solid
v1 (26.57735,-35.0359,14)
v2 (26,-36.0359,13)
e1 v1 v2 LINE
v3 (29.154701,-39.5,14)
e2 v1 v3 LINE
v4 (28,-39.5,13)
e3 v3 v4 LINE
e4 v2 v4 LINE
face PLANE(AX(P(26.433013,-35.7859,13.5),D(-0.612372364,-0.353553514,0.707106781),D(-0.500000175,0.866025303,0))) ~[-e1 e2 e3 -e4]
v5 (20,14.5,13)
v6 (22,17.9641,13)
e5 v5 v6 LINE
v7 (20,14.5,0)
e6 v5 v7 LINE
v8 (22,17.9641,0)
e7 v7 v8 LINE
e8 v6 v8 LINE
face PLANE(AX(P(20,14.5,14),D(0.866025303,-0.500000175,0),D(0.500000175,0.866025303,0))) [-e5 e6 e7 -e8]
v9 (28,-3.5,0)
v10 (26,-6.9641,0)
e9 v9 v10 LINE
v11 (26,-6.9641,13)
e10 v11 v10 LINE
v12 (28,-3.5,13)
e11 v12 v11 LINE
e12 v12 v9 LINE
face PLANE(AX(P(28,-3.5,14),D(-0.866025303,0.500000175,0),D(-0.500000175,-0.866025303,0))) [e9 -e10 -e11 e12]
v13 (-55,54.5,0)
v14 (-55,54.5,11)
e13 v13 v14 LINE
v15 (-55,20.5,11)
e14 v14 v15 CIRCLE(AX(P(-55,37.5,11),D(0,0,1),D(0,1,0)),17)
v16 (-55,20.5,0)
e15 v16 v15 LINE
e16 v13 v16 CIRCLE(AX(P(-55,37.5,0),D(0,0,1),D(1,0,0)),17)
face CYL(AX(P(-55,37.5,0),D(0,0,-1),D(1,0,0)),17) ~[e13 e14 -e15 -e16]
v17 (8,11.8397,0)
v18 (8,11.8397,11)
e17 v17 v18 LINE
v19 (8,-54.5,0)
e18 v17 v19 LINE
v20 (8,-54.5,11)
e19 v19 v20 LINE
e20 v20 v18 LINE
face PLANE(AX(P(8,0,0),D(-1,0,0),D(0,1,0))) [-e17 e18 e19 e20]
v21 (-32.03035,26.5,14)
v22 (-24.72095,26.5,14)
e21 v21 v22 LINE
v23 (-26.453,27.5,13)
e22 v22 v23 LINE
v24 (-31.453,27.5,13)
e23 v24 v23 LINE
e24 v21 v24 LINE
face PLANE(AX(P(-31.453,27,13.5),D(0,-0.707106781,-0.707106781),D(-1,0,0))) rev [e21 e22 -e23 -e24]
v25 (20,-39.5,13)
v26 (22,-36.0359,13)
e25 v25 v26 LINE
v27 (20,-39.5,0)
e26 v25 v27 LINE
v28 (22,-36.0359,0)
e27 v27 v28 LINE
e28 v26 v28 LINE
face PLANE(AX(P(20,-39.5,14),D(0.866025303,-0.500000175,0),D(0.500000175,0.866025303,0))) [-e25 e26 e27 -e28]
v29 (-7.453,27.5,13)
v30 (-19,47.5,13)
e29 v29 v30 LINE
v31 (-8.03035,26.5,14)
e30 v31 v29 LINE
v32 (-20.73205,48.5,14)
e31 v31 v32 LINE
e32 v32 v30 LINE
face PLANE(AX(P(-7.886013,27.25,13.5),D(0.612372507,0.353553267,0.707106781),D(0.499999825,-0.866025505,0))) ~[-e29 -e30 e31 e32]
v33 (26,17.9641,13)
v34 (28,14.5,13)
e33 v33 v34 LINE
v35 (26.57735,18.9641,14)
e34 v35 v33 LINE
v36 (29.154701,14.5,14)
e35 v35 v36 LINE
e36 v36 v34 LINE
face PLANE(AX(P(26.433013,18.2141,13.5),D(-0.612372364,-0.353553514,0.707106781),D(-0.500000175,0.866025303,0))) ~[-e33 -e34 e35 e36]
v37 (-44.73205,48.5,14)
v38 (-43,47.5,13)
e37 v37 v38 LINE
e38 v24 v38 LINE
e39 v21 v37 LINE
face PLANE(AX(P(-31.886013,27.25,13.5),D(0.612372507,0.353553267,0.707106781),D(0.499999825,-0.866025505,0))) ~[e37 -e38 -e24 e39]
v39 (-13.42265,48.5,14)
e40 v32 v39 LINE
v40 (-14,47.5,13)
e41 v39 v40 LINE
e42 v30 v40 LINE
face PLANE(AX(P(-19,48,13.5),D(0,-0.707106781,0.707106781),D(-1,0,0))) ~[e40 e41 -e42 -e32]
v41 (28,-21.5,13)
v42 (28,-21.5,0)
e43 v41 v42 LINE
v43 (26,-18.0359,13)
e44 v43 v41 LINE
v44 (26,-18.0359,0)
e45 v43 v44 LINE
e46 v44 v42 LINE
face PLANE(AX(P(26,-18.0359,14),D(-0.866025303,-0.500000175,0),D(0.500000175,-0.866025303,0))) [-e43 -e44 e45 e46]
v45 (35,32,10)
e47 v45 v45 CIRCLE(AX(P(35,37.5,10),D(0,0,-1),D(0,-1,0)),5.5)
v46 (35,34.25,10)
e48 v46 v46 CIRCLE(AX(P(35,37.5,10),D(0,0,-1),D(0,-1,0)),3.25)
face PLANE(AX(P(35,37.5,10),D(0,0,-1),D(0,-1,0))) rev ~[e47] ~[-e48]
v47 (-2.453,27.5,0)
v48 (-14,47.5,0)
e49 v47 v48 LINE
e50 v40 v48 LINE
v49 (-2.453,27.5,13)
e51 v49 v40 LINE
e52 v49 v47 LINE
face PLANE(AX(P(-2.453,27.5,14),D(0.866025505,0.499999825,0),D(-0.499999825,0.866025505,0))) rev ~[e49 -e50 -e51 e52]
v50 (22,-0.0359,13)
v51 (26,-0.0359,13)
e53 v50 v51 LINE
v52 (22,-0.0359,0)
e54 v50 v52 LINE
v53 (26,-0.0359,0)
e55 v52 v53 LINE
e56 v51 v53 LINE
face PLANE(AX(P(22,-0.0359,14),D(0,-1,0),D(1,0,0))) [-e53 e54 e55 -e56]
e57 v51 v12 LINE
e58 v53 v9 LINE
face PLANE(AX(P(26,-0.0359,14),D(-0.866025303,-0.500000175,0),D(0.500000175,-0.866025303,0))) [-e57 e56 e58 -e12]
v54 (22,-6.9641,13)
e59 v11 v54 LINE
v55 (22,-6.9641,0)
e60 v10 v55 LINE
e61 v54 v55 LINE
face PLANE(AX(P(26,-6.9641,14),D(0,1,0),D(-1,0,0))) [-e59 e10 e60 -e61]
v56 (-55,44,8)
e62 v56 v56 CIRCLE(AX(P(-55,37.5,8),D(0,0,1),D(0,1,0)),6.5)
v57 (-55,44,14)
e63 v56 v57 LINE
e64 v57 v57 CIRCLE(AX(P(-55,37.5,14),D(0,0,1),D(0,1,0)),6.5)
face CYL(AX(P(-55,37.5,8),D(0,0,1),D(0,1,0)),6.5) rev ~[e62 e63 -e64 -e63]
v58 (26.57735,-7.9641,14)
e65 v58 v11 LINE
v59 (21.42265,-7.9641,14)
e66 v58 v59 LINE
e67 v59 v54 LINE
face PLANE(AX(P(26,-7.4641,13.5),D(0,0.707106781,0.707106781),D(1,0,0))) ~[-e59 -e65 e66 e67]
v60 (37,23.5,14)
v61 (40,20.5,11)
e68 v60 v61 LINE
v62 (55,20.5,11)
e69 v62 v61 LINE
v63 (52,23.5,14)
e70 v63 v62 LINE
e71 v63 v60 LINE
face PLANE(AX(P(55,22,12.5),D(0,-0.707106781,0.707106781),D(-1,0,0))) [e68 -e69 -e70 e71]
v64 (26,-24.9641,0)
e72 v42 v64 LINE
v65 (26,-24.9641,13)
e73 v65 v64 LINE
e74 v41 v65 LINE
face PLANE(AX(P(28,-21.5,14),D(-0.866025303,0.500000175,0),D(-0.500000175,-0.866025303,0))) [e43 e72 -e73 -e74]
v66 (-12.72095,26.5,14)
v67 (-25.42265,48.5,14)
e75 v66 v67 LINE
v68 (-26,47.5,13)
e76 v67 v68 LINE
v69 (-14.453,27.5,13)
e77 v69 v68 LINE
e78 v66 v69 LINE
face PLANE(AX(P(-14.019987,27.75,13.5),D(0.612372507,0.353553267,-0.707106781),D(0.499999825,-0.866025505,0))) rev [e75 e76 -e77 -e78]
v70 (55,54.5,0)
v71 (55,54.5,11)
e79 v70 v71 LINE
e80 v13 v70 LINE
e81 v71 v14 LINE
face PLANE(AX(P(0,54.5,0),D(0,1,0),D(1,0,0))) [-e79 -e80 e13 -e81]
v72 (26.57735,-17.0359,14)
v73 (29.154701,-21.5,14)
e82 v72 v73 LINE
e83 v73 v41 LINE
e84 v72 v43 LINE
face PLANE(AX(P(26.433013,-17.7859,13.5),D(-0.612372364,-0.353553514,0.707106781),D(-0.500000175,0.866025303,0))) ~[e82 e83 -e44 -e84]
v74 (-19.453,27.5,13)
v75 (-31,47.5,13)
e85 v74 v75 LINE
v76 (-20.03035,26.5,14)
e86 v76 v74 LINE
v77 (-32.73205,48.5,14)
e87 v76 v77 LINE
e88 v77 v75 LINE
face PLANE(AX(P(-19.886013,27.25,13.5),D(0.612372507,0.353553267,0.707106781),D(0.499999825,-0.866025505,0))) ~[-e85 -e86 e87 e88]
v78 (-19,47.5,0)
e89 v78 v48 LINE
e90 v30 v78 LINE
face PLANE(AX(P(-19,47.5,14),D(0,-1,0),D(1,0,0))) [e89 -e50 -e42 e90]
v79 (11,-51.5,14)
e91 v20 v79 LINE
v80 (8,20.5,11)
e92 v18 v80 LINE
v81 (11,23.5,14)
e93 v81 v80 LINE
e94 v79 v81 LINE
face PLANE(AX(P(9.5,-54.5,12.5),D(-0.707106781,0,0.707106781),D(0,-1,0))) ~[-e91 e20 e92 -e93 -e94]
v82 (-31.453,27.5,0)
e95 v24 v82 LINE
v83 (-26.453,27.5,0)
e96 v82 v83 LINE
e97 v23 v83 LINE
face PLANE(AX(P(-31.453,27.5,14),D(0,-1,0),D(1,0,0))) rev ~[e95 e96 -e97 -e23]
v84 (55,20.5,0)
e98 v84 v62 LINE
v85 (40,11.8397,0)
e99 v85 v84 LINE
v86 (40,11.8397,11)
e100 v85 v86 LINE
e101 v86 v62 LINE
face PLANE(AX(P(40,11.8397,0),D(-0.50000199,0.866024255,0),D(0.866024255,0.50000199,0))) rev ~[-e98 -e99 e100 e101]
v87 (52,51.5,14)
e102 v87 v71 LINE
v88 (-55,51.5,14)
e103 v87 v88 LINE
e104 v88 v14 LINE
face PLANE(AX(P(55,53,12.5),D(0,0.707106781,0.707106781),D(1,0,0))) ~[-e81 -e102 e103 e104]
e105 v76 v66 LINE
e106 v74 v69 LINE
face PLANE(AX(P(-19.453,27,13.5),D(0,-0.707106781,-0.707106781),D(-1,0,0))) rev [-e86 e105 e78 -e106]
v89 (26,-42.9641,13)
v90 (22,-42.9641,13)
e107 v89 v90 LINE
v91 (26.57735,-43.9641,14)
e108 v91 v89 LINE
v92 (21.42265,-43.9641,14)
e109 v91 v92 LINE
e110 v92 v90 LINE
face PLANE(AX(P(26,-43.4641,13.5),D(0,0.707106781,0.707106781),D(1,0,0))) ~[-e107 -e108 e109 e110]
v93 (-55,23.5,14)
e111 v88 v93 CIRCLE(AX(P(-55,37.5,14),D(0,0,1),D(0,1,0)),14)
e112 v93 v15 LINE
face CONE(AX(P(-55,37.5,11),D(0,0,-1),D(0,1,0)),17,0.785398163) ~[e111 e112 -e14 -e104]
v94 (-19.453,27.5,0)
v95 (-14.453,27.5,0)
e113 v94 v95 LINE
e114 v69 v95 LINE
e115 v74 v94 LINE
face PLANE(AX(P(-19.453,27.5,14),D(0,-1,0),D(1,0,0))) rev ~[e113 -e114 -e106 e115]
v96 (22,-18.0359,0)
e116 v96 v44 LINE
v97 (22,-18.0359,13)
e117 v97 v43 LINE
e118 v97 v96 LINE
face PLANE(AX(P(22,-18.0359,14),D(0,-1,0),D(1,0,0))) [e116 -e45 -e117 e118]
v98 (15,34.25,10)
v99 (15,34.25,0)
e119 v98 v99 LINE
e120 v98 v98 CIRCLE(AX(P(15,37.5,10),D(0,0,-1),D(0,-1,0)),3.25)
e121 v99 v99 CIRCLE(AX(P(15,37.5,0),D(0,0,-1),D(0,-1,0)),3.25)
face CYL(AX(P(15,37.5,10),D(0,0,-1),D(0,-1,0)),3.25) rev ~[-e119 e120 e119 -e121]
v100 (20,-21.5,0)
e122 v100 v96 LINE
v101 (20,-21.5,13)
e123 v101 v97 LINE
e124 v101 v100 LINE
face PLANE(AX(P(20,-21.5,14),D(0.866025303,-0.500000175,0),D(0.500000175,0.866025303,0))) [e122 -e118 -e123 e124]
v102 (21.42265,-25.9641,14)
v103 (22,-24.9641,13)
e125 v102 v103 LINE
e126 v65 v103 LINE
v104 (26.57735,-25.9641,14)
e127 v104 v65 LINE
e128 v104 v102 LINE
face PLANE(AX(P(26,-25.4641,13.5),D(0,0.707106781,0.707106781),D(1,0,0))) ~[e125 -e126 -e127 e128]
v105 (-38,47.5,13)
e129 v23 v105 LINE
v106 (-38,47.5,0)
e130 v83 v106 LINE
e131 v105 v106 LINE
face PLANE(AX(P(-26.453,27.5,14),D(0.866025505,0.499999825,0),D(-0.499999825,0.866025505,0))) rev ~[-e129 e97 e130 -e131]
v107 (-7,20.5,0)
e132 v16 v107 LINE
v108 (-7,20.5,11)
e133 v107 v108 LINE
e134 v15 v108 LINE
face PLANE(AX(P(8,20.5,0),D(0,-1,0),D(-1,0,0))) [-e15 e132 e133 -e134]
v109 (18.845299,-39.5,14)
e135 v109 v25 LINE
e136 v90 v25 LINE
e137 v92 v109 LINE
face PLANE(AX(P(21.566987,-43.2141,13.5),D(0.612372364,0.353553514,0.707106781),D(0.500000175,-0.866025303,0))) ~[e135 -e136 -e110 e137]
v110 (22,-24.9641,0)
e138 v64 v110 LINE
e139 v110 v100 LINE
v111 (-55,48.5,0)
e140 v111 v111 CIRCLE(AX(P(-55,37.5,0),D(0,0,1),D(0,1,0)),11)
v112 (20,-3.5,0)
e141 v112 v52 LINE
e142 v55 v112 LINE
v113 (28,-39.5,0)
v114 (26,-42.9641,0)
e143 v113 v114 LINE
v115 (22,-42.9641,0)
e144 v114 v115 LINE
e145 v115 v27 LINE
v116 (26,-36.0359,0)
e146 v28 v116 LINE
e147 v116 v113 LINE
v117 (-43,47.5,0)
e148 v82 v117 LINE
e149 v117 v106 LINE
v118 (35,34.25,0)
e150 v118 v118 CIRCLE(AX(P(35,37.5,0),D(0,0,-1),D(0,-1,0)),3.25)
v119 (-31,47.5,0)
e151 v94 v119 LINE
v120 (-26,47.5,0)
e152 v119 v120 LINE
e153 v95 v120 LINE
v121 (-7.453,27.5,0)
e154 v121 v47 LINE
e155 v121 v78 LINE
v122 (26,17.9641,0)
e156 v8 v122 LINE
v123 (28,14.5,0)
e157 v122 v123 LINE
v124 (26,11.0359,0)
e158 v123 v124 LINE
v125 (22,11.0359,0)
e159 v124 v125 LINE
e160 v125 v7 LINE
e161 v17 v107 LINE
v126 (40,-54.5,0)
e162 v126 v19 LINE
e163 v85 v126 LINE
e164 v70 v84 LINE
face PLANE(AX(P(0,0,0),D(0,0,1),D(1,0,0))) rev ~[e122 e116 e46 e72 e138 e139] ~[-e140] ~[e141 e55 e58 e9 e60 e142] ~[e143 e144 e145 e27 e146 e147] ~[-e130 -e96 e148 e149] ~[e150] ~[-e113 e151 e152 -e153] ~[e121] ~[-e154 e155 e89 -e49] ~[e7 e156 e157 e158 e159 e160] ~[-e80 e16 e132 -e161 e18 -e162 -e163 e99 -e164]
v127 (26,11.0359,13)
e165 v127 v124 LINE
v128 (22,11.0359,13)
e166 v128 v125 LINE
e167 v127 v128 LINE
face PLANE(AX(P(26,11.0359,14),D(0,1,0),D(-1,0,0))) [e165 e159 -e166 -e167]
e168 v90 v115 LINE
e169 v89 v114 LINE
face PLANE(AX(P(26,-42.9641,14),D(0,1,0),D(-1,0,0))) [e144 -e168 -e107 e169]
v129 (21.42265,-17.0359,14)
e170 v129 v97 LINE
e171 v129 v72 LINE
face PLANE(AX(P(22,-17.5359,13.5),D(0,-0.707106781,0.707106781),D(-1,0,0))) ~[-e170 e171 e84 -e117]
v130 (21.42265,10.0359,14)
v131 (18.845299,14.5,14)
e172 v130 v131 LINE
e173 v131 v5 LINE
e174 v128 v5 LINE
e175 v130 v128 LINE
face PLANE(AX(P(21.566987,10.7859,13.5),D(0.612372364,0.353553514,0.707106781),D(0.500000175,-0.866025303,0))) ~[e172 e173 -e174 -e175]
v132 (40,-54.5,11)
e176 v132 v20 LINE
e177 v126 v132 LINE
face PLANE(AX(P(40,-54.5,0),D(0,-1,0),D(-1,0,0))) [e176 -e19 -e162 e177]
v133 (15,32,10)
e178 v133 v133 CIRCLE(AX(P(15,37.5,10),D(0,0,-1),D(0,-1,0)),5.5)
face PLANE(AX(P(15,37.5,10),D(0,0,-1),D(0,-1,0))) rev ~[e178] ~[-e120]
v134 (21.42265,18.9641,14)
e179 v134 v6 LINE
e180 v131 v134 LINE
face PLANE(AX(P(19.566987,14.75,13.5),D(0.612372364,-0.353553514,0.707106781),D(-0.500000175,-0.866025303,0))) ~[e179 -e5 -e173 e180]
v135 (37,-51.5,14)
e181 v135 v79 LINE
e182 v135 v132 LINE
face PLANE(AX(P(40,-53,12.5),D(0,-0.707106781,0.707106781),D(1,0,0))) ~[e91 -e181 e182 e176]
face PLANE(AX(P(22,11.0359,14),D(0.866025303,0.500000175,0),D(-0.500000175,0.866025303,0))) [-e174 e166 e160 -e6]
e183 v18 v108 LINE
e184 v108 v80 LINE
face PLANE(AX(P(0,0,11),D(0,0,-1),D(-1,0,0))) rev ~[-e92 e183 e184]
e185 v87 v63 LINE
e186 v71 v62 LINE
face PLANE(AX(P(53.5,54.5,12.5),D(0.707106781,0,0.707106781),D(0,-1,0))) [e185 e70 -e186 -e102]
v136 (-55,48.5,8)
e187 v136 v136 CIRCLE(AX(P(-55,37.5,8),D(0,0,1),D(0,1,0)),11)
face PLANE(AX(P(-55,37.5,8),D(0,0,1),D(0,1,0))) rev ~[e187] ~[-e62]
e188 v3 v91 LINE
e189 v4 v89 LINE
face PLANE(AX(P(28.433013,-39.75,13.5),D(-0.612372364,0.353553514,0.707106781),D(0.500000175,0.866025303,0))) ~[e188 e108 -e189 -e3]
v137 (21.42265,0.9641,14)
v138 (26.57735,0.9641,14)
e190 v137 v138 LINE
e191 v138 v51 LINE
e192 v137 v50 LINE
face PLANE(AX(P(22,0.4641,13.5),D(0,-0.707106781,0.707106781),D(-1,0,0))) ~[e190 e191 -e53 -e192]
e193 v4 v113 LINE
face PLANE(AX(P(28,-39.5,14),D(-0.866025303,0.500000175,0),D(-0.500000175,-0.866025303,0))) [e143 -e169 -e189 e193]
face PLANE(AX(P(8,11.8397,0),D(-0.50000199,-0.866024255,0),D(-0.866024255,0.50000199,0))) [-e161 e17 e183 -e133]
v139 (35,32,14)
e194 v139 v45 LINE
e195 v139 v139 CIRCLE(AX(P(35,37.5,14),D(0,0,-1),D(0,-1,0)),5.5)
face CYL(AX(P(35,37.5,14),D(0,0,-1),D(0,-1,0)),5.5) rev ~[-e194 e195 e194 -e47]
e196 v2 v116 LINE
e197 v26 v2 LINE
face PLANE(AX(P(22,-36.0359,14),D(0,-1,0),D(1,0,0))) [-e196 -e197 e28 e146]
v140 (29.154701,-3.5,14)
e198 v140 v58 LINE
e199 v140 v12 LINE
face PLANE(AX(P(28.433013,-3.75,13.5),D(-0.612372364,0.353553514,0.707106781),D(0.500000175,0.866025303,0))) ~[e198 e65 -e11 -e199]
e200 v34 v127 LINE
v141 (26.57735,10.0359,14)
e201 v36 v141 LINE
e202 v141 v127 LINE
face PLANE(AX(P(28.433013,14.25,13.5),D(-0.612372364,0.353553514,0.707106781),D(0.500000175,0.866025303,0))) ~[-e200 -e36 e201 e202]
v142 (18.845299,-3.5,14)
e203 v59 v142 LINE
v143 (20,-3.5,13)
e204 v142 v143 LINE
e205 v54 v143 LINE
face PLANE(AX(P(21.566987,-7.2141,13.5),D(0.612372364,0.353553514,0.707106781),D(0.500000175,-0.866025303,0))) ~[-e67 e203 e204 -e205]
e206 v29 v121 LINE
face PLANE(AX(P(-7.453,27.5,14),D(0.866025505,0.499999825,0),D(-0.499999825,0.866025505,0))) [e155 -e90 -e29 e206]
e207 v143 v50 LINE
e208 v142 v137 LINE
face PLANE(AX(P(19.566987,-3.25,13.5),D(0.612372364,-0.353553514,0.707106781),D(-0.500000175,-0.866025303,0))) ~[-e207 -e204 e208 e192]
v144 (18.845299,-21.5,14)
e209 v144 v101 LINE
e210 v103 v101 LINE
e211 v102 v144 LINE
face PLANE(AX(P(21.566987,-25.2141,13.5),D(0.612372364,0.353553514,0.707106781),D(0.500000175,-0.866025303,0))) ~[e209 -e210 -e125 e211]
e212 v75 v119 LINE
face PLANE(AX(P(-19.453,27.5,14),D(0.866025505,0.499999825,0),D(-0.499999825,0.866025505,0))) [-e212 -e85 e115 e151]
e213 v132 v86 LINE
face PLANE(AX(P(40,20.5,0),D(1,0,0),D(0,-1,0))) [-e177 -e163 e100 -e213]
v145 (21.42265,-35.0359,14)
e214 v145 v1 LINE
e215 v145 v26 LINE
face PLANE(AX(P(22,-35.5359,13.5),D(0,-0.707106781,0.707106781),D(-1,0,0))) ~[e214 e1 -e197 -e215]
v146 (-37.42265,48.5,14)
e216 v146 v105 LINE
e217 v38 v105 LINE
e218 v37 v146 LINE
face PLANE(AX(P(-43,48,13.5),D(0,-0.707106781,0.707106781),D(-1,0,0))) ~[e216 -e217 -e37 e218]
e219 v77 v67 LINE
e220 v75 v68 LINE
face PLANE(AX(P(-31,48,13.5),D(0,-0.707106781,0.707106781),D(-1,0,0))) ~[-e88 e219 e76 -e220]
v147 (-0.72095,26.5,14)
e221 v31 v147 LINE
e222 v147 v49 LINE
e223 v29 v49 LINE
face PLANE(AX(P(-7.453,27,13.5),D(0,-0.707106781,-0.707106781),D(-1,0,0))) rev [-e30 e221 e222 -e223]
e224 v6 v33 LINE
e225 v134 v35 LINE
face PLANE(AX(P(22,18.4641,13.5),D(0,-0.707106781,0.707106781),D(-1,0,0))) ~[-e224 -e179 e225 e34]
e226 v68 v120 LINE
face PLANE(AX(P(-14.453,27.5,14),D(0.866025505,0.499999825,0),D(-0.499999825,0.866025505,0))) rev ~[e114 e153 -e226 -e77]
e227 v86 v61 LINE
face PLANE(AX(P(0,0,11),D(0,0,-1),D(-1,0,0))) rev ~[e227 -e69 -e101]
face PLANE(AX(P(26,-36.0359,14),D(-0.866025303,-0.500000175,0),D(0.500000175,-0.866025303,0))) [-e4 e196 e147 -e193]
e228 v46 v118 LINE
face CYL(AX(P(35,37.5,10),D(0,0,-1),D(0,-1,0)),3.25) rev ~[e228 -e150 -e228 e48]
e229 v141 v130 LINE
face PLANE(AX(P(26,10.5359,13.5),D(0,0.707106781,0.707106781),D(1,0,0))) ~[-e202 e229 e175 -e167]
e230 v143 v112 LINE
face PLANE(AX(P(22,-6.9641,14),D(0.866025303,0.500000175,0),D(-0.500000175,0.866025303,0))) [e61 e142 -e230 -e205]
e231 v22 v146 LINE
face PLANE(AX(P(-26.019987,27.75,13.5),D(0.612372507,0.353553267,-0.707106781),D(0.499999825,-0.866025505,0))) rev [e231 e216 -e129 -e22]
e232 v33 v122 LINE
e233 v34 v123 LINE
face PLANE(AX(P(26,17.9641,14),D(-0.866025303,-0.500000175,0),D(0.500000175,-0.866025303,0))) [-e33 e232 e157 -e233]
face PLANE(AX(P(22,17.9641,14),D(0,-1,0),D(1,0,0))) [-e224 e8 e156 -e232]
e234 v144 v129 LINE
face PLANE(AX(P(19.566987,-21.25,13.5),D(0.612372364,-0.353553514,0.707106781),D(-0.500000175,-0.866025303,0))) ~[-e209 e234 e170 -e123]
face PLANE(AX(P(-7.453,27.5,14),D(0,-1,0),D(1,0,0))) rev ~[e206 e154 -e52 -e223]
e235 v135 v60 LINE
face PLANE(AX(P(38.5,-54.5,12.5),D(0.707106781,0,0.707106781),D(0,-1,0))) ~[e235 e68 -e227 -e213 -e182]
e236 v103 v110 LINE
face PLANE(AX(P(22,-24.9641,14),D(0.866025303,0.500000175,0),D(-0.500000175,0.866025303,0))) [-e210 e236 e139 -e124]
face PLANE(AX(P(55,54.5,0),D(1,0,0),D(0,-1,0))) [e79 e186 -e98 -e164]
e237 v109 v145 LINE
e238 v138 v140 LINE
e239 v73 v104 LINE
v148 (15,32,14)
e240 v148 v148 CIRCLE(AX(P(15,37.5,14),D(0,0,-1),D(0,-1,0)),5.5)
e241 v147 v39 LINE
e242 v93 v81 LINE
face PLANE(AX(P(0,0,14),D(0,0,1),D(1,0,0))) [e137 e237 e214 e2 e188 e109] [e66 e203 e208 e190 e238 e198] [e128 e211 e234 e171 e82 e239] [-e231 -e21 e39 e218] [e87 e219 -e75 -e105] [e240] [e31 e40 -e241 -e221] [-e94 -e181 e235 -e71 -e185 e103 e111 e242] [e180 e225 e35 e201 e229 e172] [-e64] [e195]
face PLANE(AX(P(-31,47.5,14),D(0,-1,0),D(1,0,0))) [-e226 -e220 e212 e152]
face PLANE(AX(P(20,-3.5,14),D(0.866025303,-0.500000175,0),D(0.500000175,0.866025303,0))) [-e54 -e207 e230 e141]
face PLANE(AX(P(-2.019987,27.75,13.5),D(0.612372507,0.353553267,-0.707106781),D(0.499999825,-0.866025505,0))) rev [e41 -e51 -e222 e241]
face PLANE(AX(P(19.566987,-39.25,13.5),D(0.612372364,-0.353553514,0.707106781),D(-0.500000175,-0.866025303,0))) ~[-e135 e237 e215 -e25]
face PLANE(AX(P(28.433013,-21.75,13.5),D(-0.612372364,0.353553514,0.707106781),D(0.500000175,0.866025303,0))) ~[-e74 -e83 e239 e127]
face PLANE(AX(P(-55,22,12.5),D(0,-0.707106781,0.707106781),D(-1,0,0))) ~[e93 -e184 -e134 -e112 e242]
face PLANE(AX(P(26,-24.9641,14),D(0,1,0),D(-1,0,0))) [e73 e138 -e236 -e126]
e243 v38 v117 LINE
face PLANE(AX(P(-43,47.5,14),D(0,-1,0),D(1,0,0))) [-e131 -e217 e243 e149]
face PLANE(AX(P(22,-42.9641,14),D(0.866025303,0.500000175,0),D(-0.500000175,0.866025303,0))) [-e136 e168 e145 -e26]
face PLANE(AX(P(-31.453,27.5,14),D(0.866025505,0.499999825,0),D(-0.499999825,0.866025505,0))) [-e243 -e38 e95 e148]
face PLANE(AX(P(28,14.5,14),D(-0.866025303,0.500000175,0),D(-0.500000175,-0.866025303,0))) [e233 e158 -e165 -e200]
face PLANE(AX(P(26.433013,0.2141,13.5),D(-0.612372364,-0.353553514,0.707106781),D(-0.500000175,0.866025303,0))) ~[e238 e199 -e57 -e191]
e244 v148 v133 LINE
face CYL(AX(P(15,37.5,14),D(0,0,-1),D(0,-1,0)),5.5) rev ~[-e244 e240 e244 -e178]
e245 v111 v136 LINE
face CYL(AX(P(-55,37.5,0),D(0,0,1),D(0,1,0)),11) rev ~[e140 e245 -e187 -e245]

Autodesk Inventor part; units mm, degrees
ref_plane "YZ Plane" through (0, 0, 0) normal (1, 0, 0) x (0, 1, 0)
ref_plane "XZ Plane" through (0, 0, 0) normal (0, 1, 0) x (-1, 0, 0)
sketch "Náčrt1" plane through (0, 0, 0) normal (0, 0, 1) x (1, 0, 0)
  line L0 (-97.4, 0) -> (80.4, 0) projected
  line L1 (0, -76.3) -> (0, 76.3) projected
  line L2 (-55, 54.5) -> (55, 54.5)
  line L3 (55, 54.5) -> (55, 20.5)
  line L4 (55, 20.5) -> (-55, 20.5)
  line L5 (-55, 20.5) -> (-55, 54.5)
  line L6 (40, -54.5) -> (8, -54.5)
  line L7 (8, -54.5) -> (8, 20.5)
  line L8 (8, 20.5) -> (40, 20.5)
  line L9 (40, 20.5) -> (40, -54.5)
  circle A0 centre (-55, 37.5) radius 17
  point P0 (0, 0)
  point P1 (-55, 20.5)
  point P2 (40, 20.5)
  dimension "d0" = 34
  dimension "d1" = 110
  dimension "d2" = 32
  dimension "d3" = 15
  dimension "d4" = 75
extrude "Vysunutí1" add sketch "Náčrt1" along normal blind 14 contours L7 L4 L9 L0 | L0 L9 L6 L7 | L4 A0 L2 L1 | L1 L2 L3 L4 | A0 L5 | L5 A0
sketch "Náčrt2" plane through (0, 0, 0) normal (0, 0, -1) x (-1, 0, 0)
  line L0 (-55, 54.5) -> (55, 54.5) projected
  line L1 (-55, 54.5) -> (55, 54.5) projected
  line L2 (-55, 20.5) -> (-55, 54.5) projected
  line L3 (-40, 20.5) -> (-55, 20.5) projected
  line L4 (-40, -54.5) -> (-40, 20.5) projected
  line L5 (-8, -54.5) -> (-40, -54.5) projected
  line L6 (-8, 20.5) -> (-8, -54.5) projected
  line L7 (55, 20.5) -> (-8, 20.5) projected
  arc A0 (55, 20.5) -> (55, 54.5) centre (55, 37.5) ccw projected
  point P0 (0, 0)
hole "Díra1" at (-55, 37.5, 0) direction (0, 0, 1) diameter 13 end through all counterbore diameter 22 counterbore depth 8
chamfer "Zkosení1" distance 3 angle 45 8 edges at (0, 54.5, 14) (-72, 37.5, 14) (-23.5, 20.5, 14) (8, -17, 14) (40, -17, 14) (47.5, 20.5, 14) (55, 37.5, 14) (24, -54.5, 14)
sketch "Náčrt3" plane through (0, 0, 14) normal (0, 0, 1) x (1, 0, 0)
  circle A0 centre (-55, 37.5) radius 6.5 projected
  line L0 (-55, 51.5) -> (52, 51.5) projected
  arc A1 (-55, 51.5) -> (-55, 23.5) centre (-55, 37.5) ccw projected
  line L1 (11, 23.5) -> (-55, 23.5) projected
  line L2 (11, -51.5) -> (11, 23.5) projected
  line L3 (37, -51.5) -> (11, -51.5) projected
  line L4 (37, 23.5) -> (37, -51.5) projected
  line L5 (52, 23.5) -> (37, 23.5) projected
  line L6 (52, 51.5) -> (52, 23.5) projected
  line L7 (0, 76.3) -> (0, -76.3) projected
  line L8 (-97.4, 0) -> (80.4, 0) projected
  point P0 (0, 0)
  point P1 (35, 37.5)
  dimension "d17" = 14
  dimension "d18" = 17
hole "Díra2" at (35, 37.5, 14) direction (0, 0, -1) diameter 6.5 end through all counterbore diameter 11 counterbore depth 4 clearance for "Strojní šroub se zápustnou hlavou" size "M6" standard "Ansi M metrický profil"
pattern_linear "Obdélníkové pole1" count 2 spacing 20 along (-1, 0, 0) of "Díra2"
sketch "Náčrt4" plane through (0, 0, 14) normal (0, 0, 1) x (1, 0, 0)
  line L0 (-97.4, 0) -> (80.4, 0) projected
  line L1 (0, -76.3) -> (0, 76.3) projected
  circle A0 centre (15, 37.5) radius 5.5 projected
  circle A1 centre (35, 37.5) radius 5.5 projected
  circle A2 centre (-55, 37.5) radius 6.5 projected
  line L2 (-55, 51.5) -> (52, 51.5) projected
  arc A3 (-55, 51.5) -> (-55, 23.5) centre (-55, 37.5) ccw projected
  line L3 (11, 23.5) -> (-55, 23.5) projected
  line L4 (11, -51.5) -> (11, 23.5) projected
  line L5 (37, -51.5) -> (11, -51.5) projected
  line L6 (37, 23.5) -> (37, -51.5) projected
  line L7 (52, 23.5) -> (37, 23.5) projected
  line L8 (52, 51.5) -> (52, 23.5) projected
  line L9 (-31.453, 27.5) -> (-26.453, 27.5)
  line L10 (-26.453, 27.5) -> (-38, 47.5)
  line L11 (-26.453, 27.5) -> (-3.359, 27.5) construction
  line L12 (-31.453, 27.5) -> (-43, 47.5)
  line L13 (-43, 47.5) -> (-38, 47.5)
  point P0 (0, 0)
  dimension "d29" = 120
  dimension "d31" = 5
  dimension "d32" = 4
  dimension "d33" = 4
  dimension "d34" = 12
extrude "Vysunutí2" cut sketch "Náčrt4" against normal through all contours L12 L13 L10 L9
chamfer "Zkosení2" distance 1 angle 45 4 edges at (-37.2265, 37.5, 14) (-40.5, 47.5, 14) (-32.2265, 37.5, 14) (-28.953, 27.5, 14)
pattern_linear "Obdélníkové pole2" count 3 spacing 12 along (1, 0, 0) of "Vysunutí2", "Zkosení2"
sketch "Náčrt5" plane through (0, 0, 14) normal (0, 0, 1) x (1, 0, 0)
  line L0 (-32.7321, 48.5) -> (-20.0303, 26.5) projected
  line L1 (-25.4226, 48.5) -> (-32.7321, 48.5) projected
  line L2 (-12.7209, 26.5) -> (-25.4226, 48.5) projected
  line L3 (-20.0303, 26.5) -> (-12.7209, 26.5) projected
  line L4 (-55, 51.5) -> (52, 51.5) projected
  arc A0 (-55, 51.5) -> (-55, 23.5) centre (-55, 37.5) ccw projected
  line L5 (11, 23.5) -> (-55, 23.5) projected
  line L6 (11, -51.5) -> (11, 23.5) projected
  line L7 (37, -51.5) -> (11, -51.5) projected
  line L8 (37, 23.5) -> (37, -51.5) projected
  line L9 (52, 23.5) -> (37, 23.5) projected
  line L10 (52, 51.5) -> (52, 23.5) projected
  circle A1 centre (-55, 37.5) radius 6.5 projected
  circle A2 centre (35, 37.5) radius 5.5 projected
  circle A3 centre (15, 37.5) radius 5.5 projected
  line L11 (-24.7209, 26.5) -> (-37.4226, 48.5) projected
  line L12 (-32.0303, 26.5) -> (-24.7209, 26.5) projected
  line L13 (-44.7321, 48.5) -> (-32.0303, 26.5) projected
  line L14 (-37.4226, 48.5) -> (-44.7321, 48.5) projected
  line L15 (-20.7321, 48.5) -> (-8.0303, 26.5) projected
  line L16 (-13.4226, 48.5) -> (-20.7321, 48.5) projected
  line L17 (-0.7209, 26.5) -> (-13.4226, 48.5) projected
  line L18 (-8.0303, 26.5) -> (-0.7209, 26.5) projected
  line L19 (0, -76.3) -> (0, 76.3) projected
  line L20 (26, 17.9641) -> (28, 14.5)
  line L21 (28, 14.5) -> (26, 11.0359)
  line L22 (26, 11.0359) -> (22, 11.0359)
  line L23 (22, 11.0359) -> (20, 14.5)
  line L24 (20, 14.5) -> (22, 17.9641)
  line L25 (22, 17.9641) -> (26, 17.9641)
  point P0 (0, 0)
  point P1 (24, 14.5)
  dimension "d43" = 4
  dimension "d44" = 9
  dimension "d45" = 13
  dimension "d52" = 3.4641
extrude "Vysunutí3" cut sketch "Náčrt5" against normal through all contours L20 L21 L22 L23 L24 L25
chamfer "Zkosení3" distance 1 angle 45 6 edges at (24, 17.9641, 14) (27, 16.2321, 14) (27, 12.7679, 14) (24, 11.0359, 14) (21, 12.7679, 14) (21, 16.2321, 14)
pattern_linear "Obdélníkové pole3" count 4 spacing 18 along (0, -1, 0) of "Vysunutí3", "Zkosení3"
ref_plane "Pracovní rovina1" through (0, 0, 0) normal (0, 0, -1) x (-1, 0, 0)
sketch "Náčrt7" plane through (0, 0, 0) normal (0, 0, -1) x (-1, 0, 0)
  line L0 (-28, -39.5) -> (-26, -36.0359) projected
  line L1 (-26, -36.0359) -> (-22, -36.0359) projected
  line L2 (-22, -36.0359) -> (-20, -39.5) projected
  line L3 (-20, -39.5) -> (-22, -42.9641) projected
  line L4 (-22, -42.9641) -> (-26, -42.9641) projected
  line L5 (-26, -42.9641) -> (-28, -39.5) projected
  line L6 (-28, -21.5) -> (-26, -18.0359) projected
  line L7 (-26, -18.0359) -> (-22, -18.0359) projected
  line L8 (-22, -18.0359) -> (-20, -21.5) projected
  line L9 (-20, -21.5) -> (-22, -24.9641) projected
  line L10 (-22, -24.9641) -> (-26, -24.9641) projected
  line L11 (-26, -24.9641) -> (-28, -21.5) projected
  line L12 (-28, -3.5) -> (-26, -0.0359) projected
  line L13 (-26, -0.0359) -> (-22, -0.0359) projected
  line L14 (-22, -0.0359) -> (-20, -3.5) projected
  line L15 (-20, -3.5) -> (-22, -6.9641) projected
  line L16 (-22, -6.9641) -> (-26, -6.9641) projected
  line L17 (-26, -6.9641) -> (-28, -3.5) projected
  line L18 (-20, 14.5) -> (-22, 11.0359) projected
  line L19 (-22, 11.0359) -> (-26, 11.0359) projected
  line L20 (-26, 11.0359) -> (-28, 14.5) projected
  line L21 (-28, 14.5) -> (-26, 17.9641) projected
  line L22 (-26, 17.9641) -> (-22, 17.9641) projected
  line L23 (-22, 17.9641) -> (-20, 14.5) projected
  line L24 (19, 47.5) -> (7.453, 27.5) projected
  line L25 (7.453, 27.5) -> (2.453, 27.5) projected
  line L26 (2.453, 27.5) -> (14, 47.5) projected
  line L27 (14, 47.5) -> (19, 47.5) projected
  line L28 (31, 47.5) -> (19.453, 27.5) projected
  line L29 (19.453, 27.5) -> (14.453, 27.5) projected
  line L30 (14.453, 27.5) -> (26, 47.5) projected
  line L31 (26, 47.5) -> (31, 47.5) projected
  line L32 (26.453, 27.5) -> (38, 47.5) projected
  line L33 (38, 47.5) -> (43, 47.5) projected
  line L34 (43, 47.5) -> (31.453, 27.5) projected
  line L35 (31.453, 27.5) -> (26.453, 27.5) projected
  circle A0 centre (-15, 37.5) radius 3.25 projected
  circle A1 centre (-35, 37.5) radius 3.25 projected
  circle A2 centre (55, 37.5) radius 11 projected
  line L36 (-55, 54.5) -> (55, 54.5) projected
  line L37 (-55, 20.5) -> (-55, 54.5) projected
  line L38 (-40, 20.5) -> (-55, 20.5) projected
  line L39 (-40, -54.5) -> (-40, 20.5) projected
  line L40 (-8, -54.5) -> (-40, -54.5) projected
  line L41 (-8, 20.5) -> (-8, -54.5) projected
  line L42 (55, 20.5) -> (-8, 20.5) projected
  arc A3 (55, 20.5) -> (55, 54.5) centre (55, 37.5) ccw projected
  line L43 (-40, 11.8397) -> (-55, 20.5)
  line L44 (-8, 11.8397) -> (7, 20.5)
  line L45 (-8, 20.5) -> (-8, -54.5) projected
  line L46 (-8, 11.8397) -> (-8, 20.5)
  line L47 (-8, 20.5) -> (7, 20.5)
  line L48 (-40, -54.5) -> (-40, 20.5) projected
  line L49 (-40, 11.8397) -> (-40, 20.5)
  line L50 (-40, 20.5) -> (-55, 20.5)
  point P0 (0, 0)
  dimension "d68" = 15
  dimension "d69" = 15
  dimension "d70" = 30
  dimension "d71" = 30
extrude "Vysunutí4" add sketch "Náčrt7" against normal blind 11 contours L38 L39 L43 | L44 L41 L42
properties part number "blet_leg_30x30 - rozsirene_3D tisk"
